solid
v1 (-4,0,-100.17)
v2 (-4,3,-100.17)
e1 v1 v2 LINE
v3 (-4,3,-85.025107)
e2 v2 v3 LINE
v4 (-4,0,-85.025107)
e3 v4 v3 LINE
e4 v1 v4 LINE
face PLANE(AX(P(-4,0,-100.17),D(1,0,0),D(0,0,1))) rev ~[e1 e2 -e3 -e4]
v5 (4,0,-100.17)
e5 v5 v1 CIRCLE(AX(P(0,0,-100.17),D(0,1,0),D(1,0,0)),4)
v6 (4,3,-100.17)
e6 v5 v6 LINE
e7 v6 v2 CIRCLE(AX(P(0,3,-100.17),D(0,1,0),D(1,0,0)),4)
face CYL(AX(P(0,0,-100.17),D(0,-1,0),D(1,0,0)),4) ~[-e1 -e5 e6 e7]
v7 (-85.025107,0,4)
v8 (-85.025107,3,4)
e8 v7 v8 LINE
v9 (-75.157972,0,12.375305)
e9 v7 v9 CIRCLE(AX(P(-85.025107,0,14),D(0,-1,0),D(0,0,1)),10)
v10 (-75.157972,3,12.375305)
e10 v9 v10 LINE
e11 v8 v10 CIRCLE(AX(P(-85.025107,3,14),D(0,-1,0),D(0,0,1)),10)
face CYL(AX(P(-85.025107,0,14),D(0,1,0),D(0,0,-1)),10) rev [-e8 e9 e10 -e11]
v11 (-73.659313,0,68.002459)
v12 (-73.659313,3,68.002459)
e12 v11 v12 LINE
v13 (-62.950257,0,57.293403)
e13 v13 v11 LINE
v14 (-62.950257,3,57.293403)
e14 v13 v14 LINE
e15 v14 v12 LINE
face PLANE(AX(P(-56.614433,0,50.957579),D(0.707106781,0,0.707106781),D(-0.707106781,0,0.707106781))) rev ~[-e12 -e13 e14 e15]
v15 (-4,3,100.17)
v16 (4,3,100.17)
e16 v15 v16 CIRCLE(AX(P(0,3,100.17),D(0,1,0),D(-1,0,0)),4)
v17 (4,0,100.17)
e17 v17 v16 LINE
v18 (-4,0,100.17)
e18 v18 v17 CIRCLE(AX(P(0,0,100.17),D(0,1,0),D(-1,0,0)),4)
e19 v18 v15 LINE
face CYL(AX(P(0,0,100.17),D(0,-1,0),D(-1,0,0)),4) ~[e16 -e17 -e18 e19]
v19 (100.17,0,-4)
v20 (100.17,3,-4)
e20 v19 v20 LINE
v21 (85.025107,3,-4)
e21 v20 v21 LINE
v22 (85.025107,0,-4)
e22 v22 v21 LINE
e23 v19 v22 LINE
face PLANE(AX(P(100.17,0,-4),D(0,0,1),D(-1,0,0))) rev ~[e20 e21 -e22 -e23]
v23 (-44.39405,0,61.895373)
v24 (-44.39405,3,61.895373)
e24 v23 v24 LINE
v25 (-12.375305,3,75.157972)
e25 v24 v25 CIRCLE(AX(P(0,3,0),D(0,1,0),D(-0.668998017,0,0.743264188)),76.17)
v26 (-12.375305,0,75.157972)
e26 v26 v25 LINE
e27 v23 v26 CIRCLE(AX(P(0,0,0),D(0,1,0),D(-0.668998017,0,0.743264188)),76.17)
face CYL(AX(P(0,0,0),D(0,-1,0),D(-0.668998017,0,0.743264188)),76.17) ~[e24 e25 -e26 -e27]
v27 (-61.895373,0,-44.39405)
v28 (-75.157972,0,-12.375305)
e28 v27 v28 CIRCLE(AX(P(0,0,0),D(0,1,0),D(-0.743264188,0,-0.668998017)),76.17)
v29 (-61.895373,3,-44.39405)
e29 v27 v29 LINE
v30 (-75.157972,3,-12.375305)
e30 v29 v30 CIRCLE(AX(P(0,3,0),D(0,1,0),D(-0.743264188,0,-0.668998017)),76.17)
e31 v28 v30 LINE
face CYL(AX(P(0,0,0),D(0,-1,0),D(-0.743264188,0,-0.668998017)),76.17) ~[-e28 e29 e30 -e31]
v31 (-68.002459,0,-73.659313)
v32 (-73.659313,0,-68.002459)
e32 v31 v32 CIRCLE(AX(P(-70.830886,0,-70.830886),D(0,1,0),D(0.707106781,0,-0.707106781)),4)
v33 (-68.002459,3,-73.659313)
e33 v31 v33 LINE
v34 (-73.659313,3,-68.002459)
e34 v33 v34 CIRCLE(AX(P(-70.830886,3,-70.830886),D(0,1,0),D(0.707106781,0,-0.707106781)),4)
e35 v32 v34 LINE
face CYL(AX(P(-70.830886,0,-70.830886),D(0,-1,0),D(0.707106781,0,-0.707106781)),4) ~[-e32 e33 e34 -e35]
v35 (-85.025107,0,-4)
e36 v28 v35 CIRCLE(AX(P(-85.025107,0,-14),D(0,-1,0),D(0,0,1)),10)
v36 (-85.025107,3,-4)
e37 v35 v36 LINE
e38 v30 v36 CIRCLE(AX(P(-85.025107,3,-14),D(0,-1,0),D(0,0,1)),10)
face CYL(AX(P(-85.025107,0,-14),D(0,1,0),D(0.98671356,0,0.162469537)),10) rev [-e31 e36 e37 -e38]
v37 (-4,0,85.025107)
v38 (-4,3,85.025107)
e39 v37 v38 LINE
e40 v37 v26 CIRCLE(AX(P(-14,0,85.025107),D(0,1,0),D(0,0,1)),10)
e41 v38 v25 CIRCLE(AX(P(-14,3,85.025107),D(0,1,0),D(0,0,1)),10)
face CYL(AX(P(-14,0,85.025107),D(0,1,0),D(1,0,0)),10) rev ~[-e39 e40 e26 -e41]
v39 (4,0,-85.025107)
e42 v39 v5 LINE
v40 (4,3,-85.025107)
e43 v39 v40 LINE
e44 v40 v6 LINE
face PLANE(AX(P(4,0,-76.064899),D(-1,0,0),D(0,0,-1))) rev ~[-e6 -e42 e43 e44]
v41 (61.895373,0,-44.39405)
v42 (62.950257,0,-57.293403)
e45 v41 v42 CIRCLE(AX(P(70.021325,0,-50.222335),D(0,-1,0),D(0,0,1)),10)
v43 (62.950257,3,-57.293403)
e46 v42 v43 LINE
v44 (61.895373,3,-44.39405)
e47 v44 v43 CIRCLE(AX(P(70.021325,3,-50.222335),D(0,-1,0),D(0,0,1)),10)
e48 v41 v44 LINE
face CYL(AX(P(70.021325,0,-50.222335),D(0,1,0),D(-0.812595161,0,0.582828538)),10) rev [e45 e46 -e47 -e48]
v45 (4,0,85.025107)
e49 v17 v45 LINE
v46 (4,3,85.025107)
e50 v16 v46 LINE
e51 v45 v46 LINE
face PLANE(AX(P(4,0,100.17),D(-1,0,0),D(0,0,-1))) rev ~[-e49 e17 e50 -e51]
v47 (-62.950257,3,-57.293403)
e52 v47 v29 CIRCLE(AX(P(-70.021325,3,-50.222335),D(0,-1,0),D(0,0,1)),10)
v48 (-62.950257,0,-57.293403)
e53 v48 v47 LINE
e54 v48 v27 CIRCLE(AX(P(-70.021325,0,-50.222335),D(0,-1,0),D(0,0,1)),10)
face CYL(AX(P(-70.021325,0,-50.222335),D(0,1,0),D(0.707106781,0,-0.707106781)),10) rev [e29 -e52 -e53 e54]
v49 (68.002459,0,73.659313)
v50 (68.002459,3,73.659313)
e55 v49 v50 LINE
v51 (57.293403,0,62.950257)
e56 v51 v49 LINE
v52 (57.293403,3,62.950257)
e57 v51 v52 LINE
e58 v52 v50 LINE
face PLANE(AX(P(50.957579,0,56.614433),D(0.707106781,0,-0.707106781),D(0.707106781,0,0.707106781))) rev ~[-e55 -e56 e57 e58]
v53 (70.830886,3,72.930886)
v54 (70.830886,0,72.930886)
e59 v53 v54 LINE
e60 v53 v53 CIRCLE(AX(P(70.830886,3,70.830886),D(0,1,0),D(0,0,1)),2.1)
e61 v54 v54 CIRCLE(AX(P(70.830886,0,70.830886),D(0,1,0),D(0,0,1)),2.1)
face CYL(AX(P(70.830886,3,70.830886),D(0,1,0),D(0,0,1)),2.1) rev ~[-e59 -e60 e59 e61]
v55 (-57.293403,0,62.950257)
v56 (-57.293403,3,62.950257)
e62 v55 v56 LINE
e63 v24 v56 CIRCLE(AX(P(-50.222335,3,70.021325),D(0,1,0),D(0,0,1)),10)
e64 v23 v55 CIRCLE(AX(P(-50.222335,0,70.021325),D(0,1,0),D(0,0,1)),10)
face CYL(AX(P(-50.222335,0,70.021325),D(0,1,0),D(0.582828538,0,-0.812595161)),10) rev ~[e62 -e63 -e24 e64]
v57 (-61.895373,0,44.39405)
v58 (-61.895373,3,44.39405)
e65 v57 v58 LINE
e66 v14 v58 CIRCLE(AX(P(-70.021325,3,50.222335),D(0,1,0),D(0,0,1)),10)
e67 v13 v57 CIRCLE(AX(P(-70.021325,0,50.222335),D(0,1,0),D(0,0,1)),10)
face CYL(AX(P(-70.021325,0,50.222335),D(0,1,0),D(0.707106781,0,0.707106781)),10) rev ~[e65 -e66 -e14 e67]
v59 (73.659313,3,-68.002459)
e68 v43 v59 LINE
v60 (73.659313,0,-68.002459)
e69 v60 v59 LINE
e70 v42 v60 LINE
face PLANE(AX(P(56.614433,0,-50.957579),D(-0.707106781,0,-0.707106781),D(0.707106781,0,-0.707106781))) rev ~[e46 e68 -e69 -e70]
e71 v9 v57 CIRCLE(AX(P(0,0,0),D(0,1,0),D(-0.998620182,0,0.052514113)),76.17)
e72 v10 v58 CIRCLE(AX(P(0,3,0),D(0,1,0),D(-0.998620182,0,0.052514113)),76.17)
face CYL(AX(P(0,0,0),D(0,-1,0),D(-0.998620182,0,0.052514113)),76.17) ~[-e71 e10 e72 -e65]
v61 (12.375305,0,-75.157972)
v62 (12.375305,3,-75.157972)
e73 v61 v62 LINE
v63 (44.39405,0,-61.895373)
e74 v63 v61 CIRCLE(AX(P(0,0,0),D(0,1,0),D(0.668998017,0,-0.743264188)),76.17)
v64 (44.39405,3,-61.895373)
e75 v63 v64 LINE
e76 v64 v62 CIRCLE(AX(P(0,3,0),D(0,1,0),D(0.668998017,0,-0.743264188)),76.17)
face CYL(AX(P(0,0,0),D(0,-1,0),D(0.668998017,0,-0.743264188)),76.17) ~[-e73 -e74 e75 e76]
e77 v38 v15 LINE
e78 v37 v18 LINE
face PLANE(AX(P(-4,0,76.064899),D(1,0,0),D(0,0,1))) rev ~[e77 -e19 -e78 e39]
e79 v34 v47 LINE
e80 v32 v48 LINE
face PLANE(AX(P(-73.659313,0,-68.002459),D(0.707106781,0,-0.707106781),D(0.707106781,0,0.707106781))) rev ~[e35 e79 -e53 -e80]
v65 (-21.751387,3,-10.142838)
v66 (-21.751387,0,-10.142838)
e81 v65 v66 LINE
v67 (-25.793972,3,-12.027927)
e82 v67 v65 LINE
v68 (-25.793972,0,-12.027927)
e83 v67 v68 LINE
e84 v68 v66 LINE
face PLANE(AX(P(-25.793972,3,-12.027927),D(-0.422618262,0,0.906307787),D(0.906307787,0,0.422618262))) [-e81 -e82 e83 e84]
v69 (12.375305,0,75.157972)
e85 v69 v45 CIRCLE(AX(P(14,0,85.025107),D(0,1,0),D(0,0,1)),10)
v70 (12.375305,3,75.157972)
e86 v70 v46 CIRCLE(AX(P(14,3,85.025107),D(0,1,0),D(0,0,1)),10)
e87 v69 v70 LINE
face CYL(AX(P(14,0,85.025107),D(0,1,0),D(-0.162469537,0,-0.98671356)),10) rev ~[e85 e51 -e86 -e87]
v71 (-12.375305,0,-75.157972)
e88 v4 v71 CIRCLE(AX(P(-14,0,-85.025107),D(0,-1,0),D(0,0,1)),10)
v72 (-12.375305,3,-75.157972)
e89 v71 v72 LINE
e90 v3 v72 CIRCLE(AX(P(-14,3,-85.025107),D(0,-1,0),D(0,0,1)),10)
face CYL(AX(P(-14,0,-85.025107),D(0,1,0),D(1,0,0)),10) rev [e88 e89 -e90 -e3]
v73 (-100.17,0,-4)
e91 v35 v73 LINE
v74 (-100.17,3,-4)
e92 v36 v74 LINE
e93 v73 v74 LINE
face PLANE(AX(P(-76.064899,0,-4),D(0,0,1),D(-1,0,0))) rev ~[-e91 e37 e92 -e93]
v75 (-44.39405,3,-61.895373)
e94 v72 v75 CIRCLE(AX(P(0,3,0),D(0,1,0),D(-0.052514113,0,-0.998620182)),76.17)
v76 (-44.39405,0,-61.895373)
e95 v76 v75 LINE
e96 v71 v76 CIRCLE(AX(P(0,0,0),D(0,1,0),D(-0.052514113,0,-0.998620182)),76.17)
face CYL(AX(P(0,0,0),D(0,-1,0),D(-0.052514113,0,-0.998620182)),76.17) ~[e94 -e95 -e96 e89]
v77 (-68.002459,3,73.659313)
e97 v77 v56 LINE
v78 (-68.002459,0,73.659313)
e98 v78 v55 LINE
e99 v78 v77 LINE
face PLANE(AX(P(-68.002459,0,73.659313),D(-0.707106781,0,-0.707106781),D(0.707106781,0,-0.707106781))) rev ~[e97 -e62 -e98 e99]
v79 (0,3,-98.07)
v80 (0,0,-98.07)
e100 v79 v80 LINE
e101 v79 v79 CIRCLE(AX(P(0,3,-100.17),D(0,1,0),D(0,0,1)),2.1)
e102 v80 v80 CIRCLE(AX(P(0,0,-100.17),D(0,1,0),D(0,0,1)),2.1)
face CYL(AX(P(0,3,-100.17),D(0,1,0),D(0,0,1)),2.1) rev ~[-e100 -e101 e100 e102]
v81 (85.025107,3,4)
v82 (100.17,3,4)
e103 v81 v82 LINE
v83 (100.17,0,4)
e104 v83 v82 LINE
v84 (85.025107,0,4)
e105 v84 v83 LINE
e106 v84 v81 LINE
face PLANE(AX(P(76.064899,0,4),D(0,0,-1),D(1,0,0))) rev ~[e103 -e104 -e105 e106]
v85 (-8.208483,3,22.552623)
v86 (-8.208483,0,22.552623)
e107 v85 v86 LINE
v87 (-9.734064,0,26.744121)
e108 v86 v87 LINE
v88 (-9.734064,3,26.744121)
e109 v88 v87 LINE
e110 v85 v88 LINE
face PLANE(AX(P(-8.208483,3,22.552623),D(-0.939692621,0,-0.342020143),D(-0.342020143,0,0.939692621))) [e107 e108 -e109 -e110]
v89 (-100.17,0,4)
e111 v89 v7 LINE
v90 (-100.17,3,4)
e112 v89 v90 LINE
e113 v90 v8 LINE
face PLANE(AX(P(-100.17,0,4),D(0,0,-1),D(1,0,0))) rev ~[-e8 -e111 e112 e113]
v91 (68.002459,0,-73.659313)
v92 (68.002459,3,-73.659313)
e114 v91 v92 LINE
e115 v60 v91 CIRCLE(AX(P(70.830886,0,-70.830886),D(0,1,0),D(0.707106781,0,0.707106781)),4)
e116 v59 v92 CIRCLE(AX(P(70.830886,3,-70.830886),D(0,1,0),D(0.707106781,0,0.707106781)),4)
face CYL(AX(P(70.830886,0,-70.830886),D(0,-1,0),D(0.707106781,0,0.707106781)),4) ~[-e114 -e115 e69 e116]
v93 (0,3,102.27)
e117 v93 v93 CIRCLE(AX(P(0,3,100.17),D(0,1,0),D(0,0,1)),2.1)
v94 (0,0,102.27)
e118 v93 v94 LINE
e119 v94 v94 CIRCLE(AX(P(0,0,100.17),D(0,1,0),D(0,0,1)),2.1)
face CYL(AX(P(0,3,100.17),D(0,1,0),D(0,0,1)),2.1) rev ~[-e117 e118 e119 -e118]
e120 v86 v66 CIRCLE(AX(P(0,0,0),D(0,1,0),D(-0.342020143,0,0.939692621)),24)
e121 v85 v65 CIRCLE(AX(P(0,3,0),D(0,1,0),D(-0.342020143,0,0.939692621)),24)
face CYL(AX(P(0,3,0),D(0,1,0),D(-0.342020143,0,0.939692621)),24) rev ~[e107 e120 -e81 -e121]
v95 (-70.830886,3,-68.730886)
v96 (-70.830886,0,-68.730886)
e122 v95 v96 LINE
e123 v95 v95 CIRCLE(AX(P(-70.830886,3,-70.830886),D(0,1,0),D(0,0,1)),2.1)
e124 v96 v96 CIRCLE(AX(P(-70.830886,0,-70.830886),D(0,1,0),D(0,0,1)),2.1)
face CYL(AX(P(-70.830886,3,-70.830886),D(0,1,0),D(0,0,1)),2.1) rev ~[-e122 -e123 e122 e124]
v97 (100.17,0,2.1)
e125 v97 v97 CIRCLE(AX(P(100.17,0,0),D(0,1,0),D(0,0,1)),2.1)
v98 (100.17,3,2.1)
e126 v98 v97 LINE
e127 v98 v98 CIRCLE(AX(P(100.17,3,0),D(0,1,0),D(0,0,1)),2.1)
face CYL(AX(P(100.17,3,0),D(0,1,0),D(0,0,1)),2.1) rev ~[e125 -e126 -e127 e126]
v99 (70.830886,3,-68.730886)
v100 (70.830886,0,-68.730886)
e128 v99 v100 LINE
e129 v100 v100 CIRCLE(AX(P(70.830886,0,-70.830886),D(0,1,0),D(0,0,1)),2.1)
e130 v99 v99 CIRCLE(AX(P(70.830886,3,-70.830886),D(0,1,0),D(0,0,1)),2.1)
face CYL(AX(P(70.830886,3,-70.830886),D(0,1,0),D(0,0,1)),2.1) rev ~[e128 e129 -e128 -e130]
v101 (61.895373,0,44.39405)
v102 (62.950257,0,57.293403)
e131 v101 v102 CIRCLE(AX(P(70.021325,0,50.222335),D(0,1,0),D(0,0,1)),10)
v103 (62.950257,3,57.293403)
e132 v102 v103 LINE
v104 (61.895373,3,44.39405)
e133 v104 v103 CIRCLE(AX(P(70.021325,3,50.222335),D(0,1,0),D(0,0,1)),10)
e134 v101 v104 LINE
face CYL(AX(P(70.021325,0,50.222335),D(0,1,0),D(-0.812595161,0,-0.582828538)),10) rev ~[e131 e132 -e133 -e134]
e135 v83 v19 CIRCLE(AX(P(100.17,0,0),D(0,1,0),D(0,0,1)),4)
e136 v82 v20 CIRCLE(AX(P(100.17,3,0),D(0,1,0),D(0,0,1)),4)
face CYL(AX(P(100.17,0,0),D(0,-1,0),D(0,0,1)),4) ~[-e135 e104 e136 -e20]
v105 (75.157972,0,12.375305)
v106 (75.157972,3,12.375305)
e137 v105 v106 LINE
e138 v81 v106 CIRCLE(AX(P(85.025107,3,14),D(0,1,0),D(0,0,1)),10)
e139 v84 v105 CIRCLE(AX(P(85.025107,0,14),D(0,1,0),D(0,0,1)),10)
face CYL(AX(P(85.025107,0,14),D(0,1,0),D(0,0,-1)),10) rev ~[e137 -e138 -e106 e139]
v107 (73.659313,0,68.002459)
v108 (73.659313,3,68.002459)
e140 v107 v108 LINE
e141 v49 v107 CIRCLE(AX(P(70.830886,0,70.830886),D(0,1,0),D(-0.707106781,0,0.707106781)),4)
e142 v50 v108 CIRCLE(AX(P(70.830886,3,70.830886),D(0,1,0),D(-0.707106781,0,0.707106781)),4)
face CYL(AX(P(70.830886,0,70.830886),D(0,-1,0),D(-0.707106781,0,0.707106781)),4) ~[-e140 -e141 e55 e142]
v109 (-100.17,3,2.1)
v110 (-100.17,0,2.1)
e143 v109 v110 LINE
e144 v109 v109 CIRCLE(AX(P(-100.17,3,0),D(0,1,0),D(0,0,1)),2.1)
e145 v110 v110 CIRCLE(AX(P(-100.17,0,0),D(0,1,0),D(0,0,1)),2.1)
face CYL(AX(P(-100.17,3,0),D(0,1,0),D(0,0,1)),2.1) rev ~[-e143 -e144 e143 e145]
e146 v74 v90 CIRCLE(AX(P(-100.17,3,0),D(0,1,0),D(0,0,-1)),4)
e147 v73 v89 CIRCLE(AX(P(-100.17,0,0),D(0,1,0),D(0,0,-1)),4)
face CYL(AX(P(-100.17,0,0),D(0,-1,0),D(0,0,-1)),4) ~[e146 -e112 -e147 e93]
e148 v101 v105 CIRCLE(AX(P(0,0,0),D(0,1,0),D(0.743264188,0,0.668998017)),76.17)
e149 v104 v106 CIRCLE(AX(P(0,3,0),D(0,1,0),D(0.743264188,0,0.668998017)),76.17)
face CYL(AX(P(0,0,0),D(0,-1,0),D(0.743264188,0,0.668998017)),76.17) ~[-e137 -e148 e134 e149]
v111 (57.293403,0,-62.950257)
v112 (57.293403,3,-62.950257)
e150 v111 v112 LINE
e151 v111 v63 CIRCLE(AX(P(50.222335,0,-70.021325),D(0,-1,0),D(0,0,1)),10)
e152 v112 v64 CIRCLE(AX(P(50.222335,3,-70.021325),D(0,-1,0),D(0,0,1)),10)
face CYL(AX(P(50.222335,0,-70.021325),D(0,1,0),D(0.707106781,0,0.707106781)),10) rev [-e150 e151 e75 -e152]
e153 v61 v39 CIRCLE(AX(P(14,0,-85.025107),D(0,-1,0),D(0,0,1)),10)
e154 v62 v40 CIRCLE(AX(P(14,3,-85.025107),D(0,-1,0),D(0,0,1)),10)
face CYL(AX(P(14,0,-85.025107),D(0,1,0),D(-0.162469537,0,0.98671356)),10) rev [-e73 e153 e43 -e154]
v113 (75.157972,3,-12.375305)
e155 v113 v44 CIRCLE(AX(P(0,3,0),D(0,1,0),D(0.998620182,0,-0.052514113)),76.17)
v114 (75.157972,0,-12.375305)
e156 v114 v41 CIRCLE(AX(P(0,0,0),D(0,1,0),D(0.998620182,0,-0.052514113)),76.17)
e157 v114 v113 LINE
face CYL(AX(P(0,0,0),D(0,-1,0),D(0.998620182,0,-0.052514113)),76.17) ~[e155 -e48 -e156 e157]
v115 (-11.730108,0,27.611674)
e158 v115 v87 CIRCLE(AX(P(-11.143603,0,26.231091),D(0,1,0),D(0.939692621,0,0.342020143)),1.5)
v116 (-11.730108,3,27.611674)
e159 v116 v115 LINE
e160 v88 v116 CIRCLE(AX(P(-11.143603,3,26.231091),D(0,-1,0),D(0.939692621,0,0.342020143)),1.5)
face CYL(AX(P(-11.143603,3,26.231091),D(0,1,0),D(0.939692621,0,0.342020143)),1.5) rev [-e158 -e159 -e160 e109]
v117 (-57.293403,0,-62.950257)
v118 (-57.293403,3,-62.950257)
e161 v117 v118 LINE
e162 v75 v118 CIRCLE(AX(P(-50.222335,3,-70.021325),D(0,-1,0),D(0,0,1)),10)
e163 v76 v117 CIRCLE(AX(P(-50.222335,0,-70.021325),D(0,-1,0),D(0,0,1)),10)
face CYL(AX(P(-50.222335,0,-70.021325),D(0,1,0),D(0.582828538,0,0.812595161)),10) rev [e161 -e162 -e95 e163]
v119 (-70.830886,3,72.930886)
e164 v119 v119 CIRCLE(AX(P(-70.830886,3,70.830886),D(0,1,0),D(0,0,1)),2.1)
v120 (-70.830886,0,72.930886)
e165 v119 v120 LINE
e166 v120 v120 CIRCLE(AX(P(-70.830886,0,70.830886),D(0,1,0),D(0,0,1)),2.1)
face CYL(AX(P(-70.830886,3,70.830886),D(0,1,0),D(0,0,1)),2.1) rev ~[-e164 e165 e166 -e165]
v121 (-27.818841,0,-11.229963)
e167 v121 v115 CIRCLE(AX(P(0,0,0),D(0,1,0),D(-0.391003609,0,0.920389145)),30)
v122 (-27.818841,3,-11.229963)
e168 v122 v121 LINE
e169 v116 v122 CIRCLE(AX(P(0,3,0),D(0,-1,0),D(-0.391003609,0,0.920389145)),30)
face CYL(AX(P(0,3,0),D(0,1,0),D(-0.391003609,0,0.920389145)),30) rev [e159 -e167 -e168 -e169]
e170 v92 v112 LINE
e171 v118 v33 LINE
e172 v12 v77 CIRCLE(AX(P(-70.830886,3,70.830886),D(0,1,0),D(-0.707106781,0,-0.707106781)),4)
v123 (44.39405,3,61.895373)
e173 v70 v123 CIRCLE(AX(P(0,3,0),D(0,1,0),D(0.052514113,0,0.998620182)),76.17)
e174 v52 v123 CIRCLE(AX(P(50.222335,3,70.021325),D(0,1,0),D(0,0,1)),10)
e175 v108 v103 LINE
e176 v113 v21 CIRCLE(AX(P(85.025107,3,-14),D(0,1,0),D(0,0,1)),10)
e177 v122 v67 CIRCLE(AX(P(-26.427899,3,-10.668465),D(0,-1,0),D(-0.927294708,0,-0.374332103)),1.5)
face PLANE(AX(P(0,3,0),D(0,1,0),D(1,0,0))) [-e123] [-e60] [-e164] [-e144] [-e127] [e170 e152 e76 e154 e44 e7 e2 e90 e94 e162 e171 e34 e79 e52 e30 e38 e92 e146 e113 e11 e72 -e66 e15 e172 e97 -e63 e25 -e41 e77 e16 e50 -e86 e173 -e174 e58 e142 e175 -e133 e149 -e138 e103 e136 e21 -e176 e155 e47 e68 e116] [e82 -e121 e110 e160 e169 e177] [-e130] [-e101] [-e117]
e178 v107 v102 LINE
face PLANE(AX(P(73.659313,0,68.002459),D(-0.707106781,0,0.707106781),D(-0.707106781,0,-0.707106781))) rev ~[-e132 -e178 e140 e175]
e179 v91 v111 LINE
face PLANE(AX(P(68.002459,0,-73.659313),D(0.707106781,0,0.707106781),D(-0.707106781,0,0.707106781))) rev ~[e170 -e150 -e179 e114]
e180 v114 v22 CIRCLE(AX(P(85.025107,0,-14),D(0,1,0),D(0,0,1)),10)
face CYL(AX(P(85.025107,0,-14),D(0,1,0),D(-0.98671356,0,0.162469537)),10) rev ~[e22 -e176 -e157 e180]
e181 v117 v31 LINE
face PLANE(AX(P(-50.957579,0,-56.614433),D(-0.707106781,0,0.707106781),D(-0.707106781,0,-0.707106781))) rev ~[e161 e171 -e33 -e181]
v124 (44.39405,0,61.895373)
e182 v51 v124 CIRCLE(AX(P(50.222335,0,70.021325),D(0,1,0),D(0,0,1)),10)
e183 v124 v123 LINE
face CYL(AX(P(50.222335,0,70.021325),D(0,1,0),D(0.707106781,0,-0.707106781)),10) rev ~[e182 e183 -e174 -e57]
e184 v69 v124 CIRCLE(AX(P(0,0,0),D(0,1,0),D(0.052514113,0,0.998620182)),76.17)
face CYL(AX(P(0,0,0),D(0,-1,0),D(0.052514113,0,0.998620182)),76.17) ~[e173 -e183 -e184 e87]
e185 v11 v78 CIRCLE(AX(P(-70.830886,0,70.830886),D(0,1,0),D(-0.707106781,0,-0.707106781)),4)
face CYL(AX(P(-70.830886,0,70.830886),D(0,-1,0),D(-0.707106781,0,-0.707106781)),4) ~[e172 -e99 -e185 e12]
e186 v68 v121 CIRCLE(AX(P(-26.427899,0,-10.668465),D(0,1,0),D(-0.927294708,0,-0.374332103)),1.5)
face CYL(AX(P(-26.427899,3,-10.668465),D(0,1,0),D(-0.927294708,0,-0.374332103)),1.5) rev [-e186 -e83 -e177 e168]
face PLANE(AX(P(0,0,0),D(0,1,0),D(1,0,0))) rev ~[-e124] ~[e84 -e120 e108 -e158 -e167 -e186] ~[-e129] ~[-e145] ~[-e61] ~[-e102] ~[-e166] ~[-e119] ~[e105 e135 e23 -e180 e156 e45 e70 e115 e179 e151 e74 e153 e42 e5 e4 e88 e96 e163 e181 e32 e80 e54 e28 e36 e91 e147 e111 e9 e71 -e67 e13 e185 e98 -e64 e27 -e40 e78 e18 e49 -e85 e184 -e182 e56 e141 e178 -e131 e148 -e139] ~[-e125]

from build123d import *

# Parameters (mm, degrees)
BOSS_EXTRUDE1_DEPTH = 3
SKETCH3_R           = 2.1
CUT_EXTRUDE1_DEPTH  = 5
FILLET1_R           = 10
SKETCH4_R           = 24
CUT_EXTRUDE2_DEPTH  = 10


with BuildPart() as part:
    # Sketch1 → Boss-Extrude1 (new body)
    with BuildSketch(Plane(origin=(0, 0, 0), x_dir=(1, 0, 0), z_dir=(0, 1, 0))):
        with BuildLine():
            ThreePointArc((36.740234303, -4), (32.740234303, 0), (36.740234303, 4))
            Line((36.740234303, 4), (76.064899264, 4))
            ThreePointArc((76.064899264, 4), (70.371903991, 29.148997043), (56.614433204, 50.957578955))
            Line((56.614433204, 50.957578955), (28.807695942, 23.150841693))
            ThreePointArc((28.807695942, 23.150841693), (23.150841693, 23.150841693), (23.150841693, 28.807695942))
            Line((23.150841693, 28.807695942), (50.957578955, 56.614433204))
            ThreePointArc((50.957578955, 56.614433204), (29.148997043, 70.371903991), (4, 76.064899264))
            Line((4, 76.064899264), (4, 36.740234303))
            ThreePointArc((4, 36.740234303), (0, 32.740234303), (-4, 36.740234303))
            Line((-4, 36.740234303), (-4, 76.064899264))
            ThreePointArc((-4, 76.064899264), (-29.148997043, 70.371903991), (-50.957578955, 56.614433204))
            Line((-50.957578955, 56.614433204), (-23.150841693, 28.807695942))
            ThreePointArc((-23.150841693, 28.807695942), (-23.150841693, 23.150841693), (-28.807695942, 23.150841693))
            Line((-28.807695942, 23.150841693), (-56.614433204, 50.957578955))
            ThreePointArc((-56.614433204, 50.957578955), (-70.371903991, 29.148997043), (-76.064899264, 4))
            Line((-76.064899264, 4), (-36.740234303, 4))
            ThreePointArc((-36.740234303, 4), (-32.740234303, 0), (-36.740234303, -4))
            Line((-36.740234303, -4), (-76.064899264, -4))
            ThreePointArc((-76.064899264, -4), (-70.371903991, -29.148997043), (-56.614433204, -50.957578955))
            Line((-56.614433204, -50.957578955), (-28.807695942, -23.150841693))
            ThreePointArc((-28.807695942, -23.150841693), (-23.150841693, -23.150841693), (-23.150841693, -28.807695942))
            Line((-23.150841693, -28.807695942), (-50.957578955, -56.614433204))
            ThreePointArc((-50.957578955, -56.614433204), (-29.148997043, -70.371903991), (-4, -76.064899264))
            Line((-4, -76.064899264), (-4, -36.740234303))
            ThreePointArc((-4, -36.740234303), (0, -32.740234303), (4, -36.740234303))
            Line((4, -36.740234303), (4, -76.064899264))
            ThreePointArc((4, -76.064899264), (29.148997043, -70.371903991), (50.957578955, -56.614433204))
            Line((50.957578955, -56.614433204), (23.150841693, -28.807695942))
            ThreePointArc((23.150841693, -28.807695942), (23.150841693, -23.150841693), (28.807695942, -23.150841693))
            Line((28.807695942, -23.150841693), (56.614433204, -50.957578955))
            ThreePointArc((56.614433204, -50.957578955), (70.371903991, -29.148997043), (76.064899264, -4))
            Line((76.064899264, -4), (36.740234303, -4))
        make_face()
        with BuildLine():
            ThreePointArc((-4, 76.064899264), (0, 76.17), (4, 76.064899264))
            Line((4, 76.064899264), (4, 100.17))
            ThreePointArc((4, 100.17), (0, 104.17), (-4, 100.17))
            Line((-4, 100.17), (-4, 76.064899264))
        make_face()
        with BuildLine():
            Line((4, 36.740234303), (4, 76.064899264))
            ThreePointArc((4, 76.064899264), (0, 76.17), (-4, 76.064899264))
            Line((-4, 76.064899264), (-4, 36.740234303))
            ThreePointArc((-4, 36.740234303), (0, 32.740234303), (4, 36.740234303))
        make_face()
        with BuildLine():
            ThreePointArc((-56.614433204, 50.957578955), (-53.860323523, 53.860323523), (-50.957578955, 56.614433204))
            Line((-50.957578955, 56.614433204), (-68.002459147, 73.659313396))
            ThreePointArc((-68.002459147, 73.659313396), (-73.659313396, 73.659313396), (-73.659313396, 68.002459147))
            Line((-73.659313396, 68.002459147), (-56.614433204, 50.957578955))
        make_face()
        with BuildLine():
            Line((-23.150841693, 28.807695942), (-50.957578955, 56.614433204))
            ThreePointArc((-50.957578955, 56.614433204), (-53.860323523, 53.860323523), (-56.614433204, 50.957578955))
            Line((-56.614433204, 50.957578955), (-28.807695942, 23.150841693))
            ThreePointArc((-28.807695942, 23.150841693), (-23.150841693, 23.150841693), (-23.150841693, 28.807695942))
        make_face()
        with BuildLine():
            ThreePointArc((-76.064899264, -4), (-76.17, 0), (-76.064899264, 4))
            Line((-76.064899264, 4), (-100.17, 4))
            ThreePointArc((-100.17, 4), (-104.17, 0), (-100.17, -4))
            Line((-100.17, -4), (-76.064899264, -4))
        make_face()
        with BuildLine():
            Line((-36.740234303, 4), (-76.064899264, 4))
            ThreePointArc((-76.064899264, 4), (-76.17, 0), (-76.064899264, -4))
            Line((-76.064899264, -4), (-36.740234303, -4))
            ThreePointArc((-36.740234303, -4), (-32.740234303, 0), (-36.740234303, 4))
        make_face()
        with BuildLine():
            Line((-68.002459147, -73.659313396), (-50.957578955, -56.614433204))
            ThreePointArc((-50.957578955, -56.614433204), (-53.860323523, -53.860323523), (-56.614433204, -50.957578955))
            Line((-56.614433204, -50.957578955), (-73.659313396, -68.002459147))
            ThreePointArc((-73.659313396, -68.002459147), (-73.659313396, -73.659313396), (-68.002459147, -73.659313396))
        make_face()
        with BuildLine():
            ThreePointArc((-56.614433204, -50.957578955), (-53.860323523, -53.860323523), (-50.957578955, -56.614433204))
            Line((-50.957578955, -56.614433204), (-23.150841693, -28.807695942))
            ThreePointArc((-23.150841693, -28.807695942), (-23.150841693, -23.150841693), (-28.807695942, -23.150841693))
            Line((-28.807695942, -23.150841693), (-56.614433204, -50.957578955))
        make_face()
        with BuildLine():
            ThreePointArc((-4, -76.064899264), (0, -76.17), (4, -76.064899264))
            Line((4, -76.064899264), (4, -36.740234303))
            ThreePointArc((4, -36.740234303), (0, -32.740234303), (-4, -36.740234303))
            Line((-4, -36.740234303), (-4, -76.064899264))
        make_face()
        with BuildLine():
            Line((4, -100.17), (4, -76.064899264))
            ThreePointArc((4, -76.064899264), (0, -76.17), (-4, -76.064899264))
            Line((-4, -76.064899264), (-4, -100.17))
            ThreePointArc((-4, -100.17), (0, -104.17), (4, -100.17))
        make_face()
        with BuildLine():
            ThreePointArc((50.957578955, -56.614433204), (53.860323523, -53.860323523), (56.614433204, -50.957578955))
            Line((56.614433204, -50.957578955), (28.807695942, -23.150841693))
            ThreePointArc((28.807695942, -23.150841693), (23.150841693, -23.150841693), (23.150841693, -28.807695942))
            Line((23.150841693, -28.807695942), (50.957578955, -56.614433204))
        make_face()
        with BuildLine():
            Line((73.659313396, -68.002459147), (56.614433204, -50.957578955))
            ThreePointArc((56.614433204, -50.957578955), (53.860323523, -53.860323523), (50.957578955, -56.614433204))
            Line((50.957578955, -56.614433204), (68.002459147, -73.659313396))
            ThreePointArc((68.002459147, -73.659313396), (73.659313396, -73.659313396), (73.659313396, -68.002459147))
        make_face()
        with BuildLine():
            Line((76.064899264, 4), (36.740234303, 4))
            ThreePointArc((36.740234303, 4), (32.740234303, 0), (36.740234303, -4))
            Line((36.740234303, -4), (76.064899264, -4))
            ThreePointArc((76.064899264, -4), (76.143720282, -2.000690266), (76.17, 0))
            ThreePointArc((76.17, 0), (76.143720282, 2.000690266), (76.064899264, 4))
        make_face()
        with BuildLine():
            Line((100.17, 4), (76.064899264, 4))
            ThreePointArc((76.064899264, 4), (76.143720282, 2.000690266), (76.17, 0))
            ThreePointArc((76.17, 0), (76.143720282, -2.000690266), (76.064899264, -4))
            Line((76.064899264, -4), (100.17, -4))
            ThreePointArc((100.17, -4), (104.17, 0), (100.17, 4))
        make_face()
        with BuildLine():
            Line((28.807695942, 23.150841693), (56.614433204, 50.957578955))
            ThreePointArc((56.614433204, 50.957578955), (53.860323523, 53.860323523), (50.957578955, 56.614433204))
            Line((50.957578955, 56.614433204), (23.150841693, 28.807695942))
            ThreePointArc((23.150841693, 28.807695942), (23.150841693, 23.150841693), (28.807695942, 23.150841693))
        make_face()
        with BuildLine():
            ThreePointArc((50.957578955, 56.614433204), (53.860323523, 53.860323523), (56.614433204, 50.957578955))
            Line((56.614433204, 50.957578955), (73.659313396, 68.002459147))
            ThreePointArc((73.659313396, 68.002459147), (73.659313396, 73.659313396), (68.002459147, 73.659313396))
            Line((68.002459147, 73.659313396), (50.957578955, 56.614433204))
        make_face()
    extrude(amount=BOSS_EXTRUDE1_DEPTH)

    # Sketch3 → Cut-Extrude1 (cut)
    with BuildSketch(Plane(origin=(0, 3, 0), x_dir=(1, 0, 0), z_dir=(0, 1, 0))):
        with Locations(Location((100.17, 0, 0), (0, 0, 270))):
            Circle(SKETCH3_R)
        with Locations(Location((70.830886271, -70.830886271, 0), (0, 0, 270))):
            Circle(SKETCH3_R)
        with Locations(Location((0, -100.17, 0), (0, 0, 270))):
            Circle(SKETCH3_R)
        with Locations(Location((-70.830886271, -70.830886271, 0), (0, 0, 270))):
            Circle(SKETCH3_R)
        with Locations(Location((-100.17, 0, 0), (0, 0, 270))):
            Circle(SKETCH3_R)
        with Locations(Location((-70.830886271, 70.830886271, 0), (0, 0, 270))):
            Circle(SKETCH3_R)
        with Locations(Location((0, 100.17, 0), (0, 0, 270))):
            Circle(SKETCH3_R)
        with Locations(Location((70.830886271, 70.830886271, 0), (0, 0, 270))):
            Circle(SKETCH3_R)
    extrude(amount=-CUT_EXTRUDE1_DEPTH, mode=Mode.SUBTRACT)

    # Fillet1
    fillet1_edges = [part.edges().sort_by_distance(p)[0] for p in [
        (76.064899264, 1.5, -4),
        (76.064899264, 1.5, 4),
        (56.614433204, 1.5, 50.957578955),
        (50.957578955, 1.5, 56.614433204),
        (4, 1.5, 76.064899264),
        (-4, 1.5, 76.064899264),
        (-50.957578955, 1.5, 56.614433204),
        (-56.614433204, 1.5, 50.957578955),
        (-76.064899264, 1.5, 4),
        (-76.064899264, 1.5, -4),
        (-56.614433204, 1.5, -50.957578955),
        (-50.957578955, 1.5, -56.614433204),
        (-4, 1.5, -76.064899264),
        (4, 1.5, -76.064899264),
        (50.957578955, 1.5, -56.614433204),
        (56.614433204, 1.5, -50.957578955),
    ]]
    fillet(fillet1_edges, radius=FILLET1_R)

    # Sketch4 → Cut-Extrude2 (cut)
    with BuildSketch(Plane(origin=(0, 3, 0), x_dir=(1, 0, 0), z_dir=(0, 1, 0))):
        Circle(SKETCH4_R)
        with BuildLine():
            Line((-25.793971814, 12.027926591), (0, 0))
            Line((0, 0), (-9.734063927, -26.744120839))
            ThreePointArc((-9.734063927, -26.744120839), (-10.54568287, -27.606769252), (-11.730108272, -27.611674341))
            ThreePointArc((-11.730108272, -27.611674341), (-27.716385975, -11.480502971), (-27.81884127, 11.229963064))
            ThreePointArc((-27.81884127, 11.229963064), (-26.977857614, 12.064009875), (-25.793971814, 12.027926591))
        make_face()
        with BuildLine():
            ThreePointArc((24, 0), (5.194550735, 23.431104171), (-21.751386889, 10.142838282))
            Line((-21.751386889, 10.142838282), (0, 0))
            Line((0, 0), (-8.20848344, -22.552622899))
            ThreePointArc((-8.20848344, -22.552622899), (13.765834472, -19.659649063), (24, 0))
        make_face()
        with BuildLine():
            Line((0, 0), (-21.751386889, 10.142838282))
            ThreePointArc((-21.751386889, 10.142838282), (-22.17310878, -9.184402377), (-8.20848344, -22.552622899))
            Line((-8.20848344, -22.552622899), (0, 0))
        make_face()
    extrude(amount=-CUT_EXTRUDE2_DEPTH, mode=Mode.SUBTRACT)


solid = part.part
